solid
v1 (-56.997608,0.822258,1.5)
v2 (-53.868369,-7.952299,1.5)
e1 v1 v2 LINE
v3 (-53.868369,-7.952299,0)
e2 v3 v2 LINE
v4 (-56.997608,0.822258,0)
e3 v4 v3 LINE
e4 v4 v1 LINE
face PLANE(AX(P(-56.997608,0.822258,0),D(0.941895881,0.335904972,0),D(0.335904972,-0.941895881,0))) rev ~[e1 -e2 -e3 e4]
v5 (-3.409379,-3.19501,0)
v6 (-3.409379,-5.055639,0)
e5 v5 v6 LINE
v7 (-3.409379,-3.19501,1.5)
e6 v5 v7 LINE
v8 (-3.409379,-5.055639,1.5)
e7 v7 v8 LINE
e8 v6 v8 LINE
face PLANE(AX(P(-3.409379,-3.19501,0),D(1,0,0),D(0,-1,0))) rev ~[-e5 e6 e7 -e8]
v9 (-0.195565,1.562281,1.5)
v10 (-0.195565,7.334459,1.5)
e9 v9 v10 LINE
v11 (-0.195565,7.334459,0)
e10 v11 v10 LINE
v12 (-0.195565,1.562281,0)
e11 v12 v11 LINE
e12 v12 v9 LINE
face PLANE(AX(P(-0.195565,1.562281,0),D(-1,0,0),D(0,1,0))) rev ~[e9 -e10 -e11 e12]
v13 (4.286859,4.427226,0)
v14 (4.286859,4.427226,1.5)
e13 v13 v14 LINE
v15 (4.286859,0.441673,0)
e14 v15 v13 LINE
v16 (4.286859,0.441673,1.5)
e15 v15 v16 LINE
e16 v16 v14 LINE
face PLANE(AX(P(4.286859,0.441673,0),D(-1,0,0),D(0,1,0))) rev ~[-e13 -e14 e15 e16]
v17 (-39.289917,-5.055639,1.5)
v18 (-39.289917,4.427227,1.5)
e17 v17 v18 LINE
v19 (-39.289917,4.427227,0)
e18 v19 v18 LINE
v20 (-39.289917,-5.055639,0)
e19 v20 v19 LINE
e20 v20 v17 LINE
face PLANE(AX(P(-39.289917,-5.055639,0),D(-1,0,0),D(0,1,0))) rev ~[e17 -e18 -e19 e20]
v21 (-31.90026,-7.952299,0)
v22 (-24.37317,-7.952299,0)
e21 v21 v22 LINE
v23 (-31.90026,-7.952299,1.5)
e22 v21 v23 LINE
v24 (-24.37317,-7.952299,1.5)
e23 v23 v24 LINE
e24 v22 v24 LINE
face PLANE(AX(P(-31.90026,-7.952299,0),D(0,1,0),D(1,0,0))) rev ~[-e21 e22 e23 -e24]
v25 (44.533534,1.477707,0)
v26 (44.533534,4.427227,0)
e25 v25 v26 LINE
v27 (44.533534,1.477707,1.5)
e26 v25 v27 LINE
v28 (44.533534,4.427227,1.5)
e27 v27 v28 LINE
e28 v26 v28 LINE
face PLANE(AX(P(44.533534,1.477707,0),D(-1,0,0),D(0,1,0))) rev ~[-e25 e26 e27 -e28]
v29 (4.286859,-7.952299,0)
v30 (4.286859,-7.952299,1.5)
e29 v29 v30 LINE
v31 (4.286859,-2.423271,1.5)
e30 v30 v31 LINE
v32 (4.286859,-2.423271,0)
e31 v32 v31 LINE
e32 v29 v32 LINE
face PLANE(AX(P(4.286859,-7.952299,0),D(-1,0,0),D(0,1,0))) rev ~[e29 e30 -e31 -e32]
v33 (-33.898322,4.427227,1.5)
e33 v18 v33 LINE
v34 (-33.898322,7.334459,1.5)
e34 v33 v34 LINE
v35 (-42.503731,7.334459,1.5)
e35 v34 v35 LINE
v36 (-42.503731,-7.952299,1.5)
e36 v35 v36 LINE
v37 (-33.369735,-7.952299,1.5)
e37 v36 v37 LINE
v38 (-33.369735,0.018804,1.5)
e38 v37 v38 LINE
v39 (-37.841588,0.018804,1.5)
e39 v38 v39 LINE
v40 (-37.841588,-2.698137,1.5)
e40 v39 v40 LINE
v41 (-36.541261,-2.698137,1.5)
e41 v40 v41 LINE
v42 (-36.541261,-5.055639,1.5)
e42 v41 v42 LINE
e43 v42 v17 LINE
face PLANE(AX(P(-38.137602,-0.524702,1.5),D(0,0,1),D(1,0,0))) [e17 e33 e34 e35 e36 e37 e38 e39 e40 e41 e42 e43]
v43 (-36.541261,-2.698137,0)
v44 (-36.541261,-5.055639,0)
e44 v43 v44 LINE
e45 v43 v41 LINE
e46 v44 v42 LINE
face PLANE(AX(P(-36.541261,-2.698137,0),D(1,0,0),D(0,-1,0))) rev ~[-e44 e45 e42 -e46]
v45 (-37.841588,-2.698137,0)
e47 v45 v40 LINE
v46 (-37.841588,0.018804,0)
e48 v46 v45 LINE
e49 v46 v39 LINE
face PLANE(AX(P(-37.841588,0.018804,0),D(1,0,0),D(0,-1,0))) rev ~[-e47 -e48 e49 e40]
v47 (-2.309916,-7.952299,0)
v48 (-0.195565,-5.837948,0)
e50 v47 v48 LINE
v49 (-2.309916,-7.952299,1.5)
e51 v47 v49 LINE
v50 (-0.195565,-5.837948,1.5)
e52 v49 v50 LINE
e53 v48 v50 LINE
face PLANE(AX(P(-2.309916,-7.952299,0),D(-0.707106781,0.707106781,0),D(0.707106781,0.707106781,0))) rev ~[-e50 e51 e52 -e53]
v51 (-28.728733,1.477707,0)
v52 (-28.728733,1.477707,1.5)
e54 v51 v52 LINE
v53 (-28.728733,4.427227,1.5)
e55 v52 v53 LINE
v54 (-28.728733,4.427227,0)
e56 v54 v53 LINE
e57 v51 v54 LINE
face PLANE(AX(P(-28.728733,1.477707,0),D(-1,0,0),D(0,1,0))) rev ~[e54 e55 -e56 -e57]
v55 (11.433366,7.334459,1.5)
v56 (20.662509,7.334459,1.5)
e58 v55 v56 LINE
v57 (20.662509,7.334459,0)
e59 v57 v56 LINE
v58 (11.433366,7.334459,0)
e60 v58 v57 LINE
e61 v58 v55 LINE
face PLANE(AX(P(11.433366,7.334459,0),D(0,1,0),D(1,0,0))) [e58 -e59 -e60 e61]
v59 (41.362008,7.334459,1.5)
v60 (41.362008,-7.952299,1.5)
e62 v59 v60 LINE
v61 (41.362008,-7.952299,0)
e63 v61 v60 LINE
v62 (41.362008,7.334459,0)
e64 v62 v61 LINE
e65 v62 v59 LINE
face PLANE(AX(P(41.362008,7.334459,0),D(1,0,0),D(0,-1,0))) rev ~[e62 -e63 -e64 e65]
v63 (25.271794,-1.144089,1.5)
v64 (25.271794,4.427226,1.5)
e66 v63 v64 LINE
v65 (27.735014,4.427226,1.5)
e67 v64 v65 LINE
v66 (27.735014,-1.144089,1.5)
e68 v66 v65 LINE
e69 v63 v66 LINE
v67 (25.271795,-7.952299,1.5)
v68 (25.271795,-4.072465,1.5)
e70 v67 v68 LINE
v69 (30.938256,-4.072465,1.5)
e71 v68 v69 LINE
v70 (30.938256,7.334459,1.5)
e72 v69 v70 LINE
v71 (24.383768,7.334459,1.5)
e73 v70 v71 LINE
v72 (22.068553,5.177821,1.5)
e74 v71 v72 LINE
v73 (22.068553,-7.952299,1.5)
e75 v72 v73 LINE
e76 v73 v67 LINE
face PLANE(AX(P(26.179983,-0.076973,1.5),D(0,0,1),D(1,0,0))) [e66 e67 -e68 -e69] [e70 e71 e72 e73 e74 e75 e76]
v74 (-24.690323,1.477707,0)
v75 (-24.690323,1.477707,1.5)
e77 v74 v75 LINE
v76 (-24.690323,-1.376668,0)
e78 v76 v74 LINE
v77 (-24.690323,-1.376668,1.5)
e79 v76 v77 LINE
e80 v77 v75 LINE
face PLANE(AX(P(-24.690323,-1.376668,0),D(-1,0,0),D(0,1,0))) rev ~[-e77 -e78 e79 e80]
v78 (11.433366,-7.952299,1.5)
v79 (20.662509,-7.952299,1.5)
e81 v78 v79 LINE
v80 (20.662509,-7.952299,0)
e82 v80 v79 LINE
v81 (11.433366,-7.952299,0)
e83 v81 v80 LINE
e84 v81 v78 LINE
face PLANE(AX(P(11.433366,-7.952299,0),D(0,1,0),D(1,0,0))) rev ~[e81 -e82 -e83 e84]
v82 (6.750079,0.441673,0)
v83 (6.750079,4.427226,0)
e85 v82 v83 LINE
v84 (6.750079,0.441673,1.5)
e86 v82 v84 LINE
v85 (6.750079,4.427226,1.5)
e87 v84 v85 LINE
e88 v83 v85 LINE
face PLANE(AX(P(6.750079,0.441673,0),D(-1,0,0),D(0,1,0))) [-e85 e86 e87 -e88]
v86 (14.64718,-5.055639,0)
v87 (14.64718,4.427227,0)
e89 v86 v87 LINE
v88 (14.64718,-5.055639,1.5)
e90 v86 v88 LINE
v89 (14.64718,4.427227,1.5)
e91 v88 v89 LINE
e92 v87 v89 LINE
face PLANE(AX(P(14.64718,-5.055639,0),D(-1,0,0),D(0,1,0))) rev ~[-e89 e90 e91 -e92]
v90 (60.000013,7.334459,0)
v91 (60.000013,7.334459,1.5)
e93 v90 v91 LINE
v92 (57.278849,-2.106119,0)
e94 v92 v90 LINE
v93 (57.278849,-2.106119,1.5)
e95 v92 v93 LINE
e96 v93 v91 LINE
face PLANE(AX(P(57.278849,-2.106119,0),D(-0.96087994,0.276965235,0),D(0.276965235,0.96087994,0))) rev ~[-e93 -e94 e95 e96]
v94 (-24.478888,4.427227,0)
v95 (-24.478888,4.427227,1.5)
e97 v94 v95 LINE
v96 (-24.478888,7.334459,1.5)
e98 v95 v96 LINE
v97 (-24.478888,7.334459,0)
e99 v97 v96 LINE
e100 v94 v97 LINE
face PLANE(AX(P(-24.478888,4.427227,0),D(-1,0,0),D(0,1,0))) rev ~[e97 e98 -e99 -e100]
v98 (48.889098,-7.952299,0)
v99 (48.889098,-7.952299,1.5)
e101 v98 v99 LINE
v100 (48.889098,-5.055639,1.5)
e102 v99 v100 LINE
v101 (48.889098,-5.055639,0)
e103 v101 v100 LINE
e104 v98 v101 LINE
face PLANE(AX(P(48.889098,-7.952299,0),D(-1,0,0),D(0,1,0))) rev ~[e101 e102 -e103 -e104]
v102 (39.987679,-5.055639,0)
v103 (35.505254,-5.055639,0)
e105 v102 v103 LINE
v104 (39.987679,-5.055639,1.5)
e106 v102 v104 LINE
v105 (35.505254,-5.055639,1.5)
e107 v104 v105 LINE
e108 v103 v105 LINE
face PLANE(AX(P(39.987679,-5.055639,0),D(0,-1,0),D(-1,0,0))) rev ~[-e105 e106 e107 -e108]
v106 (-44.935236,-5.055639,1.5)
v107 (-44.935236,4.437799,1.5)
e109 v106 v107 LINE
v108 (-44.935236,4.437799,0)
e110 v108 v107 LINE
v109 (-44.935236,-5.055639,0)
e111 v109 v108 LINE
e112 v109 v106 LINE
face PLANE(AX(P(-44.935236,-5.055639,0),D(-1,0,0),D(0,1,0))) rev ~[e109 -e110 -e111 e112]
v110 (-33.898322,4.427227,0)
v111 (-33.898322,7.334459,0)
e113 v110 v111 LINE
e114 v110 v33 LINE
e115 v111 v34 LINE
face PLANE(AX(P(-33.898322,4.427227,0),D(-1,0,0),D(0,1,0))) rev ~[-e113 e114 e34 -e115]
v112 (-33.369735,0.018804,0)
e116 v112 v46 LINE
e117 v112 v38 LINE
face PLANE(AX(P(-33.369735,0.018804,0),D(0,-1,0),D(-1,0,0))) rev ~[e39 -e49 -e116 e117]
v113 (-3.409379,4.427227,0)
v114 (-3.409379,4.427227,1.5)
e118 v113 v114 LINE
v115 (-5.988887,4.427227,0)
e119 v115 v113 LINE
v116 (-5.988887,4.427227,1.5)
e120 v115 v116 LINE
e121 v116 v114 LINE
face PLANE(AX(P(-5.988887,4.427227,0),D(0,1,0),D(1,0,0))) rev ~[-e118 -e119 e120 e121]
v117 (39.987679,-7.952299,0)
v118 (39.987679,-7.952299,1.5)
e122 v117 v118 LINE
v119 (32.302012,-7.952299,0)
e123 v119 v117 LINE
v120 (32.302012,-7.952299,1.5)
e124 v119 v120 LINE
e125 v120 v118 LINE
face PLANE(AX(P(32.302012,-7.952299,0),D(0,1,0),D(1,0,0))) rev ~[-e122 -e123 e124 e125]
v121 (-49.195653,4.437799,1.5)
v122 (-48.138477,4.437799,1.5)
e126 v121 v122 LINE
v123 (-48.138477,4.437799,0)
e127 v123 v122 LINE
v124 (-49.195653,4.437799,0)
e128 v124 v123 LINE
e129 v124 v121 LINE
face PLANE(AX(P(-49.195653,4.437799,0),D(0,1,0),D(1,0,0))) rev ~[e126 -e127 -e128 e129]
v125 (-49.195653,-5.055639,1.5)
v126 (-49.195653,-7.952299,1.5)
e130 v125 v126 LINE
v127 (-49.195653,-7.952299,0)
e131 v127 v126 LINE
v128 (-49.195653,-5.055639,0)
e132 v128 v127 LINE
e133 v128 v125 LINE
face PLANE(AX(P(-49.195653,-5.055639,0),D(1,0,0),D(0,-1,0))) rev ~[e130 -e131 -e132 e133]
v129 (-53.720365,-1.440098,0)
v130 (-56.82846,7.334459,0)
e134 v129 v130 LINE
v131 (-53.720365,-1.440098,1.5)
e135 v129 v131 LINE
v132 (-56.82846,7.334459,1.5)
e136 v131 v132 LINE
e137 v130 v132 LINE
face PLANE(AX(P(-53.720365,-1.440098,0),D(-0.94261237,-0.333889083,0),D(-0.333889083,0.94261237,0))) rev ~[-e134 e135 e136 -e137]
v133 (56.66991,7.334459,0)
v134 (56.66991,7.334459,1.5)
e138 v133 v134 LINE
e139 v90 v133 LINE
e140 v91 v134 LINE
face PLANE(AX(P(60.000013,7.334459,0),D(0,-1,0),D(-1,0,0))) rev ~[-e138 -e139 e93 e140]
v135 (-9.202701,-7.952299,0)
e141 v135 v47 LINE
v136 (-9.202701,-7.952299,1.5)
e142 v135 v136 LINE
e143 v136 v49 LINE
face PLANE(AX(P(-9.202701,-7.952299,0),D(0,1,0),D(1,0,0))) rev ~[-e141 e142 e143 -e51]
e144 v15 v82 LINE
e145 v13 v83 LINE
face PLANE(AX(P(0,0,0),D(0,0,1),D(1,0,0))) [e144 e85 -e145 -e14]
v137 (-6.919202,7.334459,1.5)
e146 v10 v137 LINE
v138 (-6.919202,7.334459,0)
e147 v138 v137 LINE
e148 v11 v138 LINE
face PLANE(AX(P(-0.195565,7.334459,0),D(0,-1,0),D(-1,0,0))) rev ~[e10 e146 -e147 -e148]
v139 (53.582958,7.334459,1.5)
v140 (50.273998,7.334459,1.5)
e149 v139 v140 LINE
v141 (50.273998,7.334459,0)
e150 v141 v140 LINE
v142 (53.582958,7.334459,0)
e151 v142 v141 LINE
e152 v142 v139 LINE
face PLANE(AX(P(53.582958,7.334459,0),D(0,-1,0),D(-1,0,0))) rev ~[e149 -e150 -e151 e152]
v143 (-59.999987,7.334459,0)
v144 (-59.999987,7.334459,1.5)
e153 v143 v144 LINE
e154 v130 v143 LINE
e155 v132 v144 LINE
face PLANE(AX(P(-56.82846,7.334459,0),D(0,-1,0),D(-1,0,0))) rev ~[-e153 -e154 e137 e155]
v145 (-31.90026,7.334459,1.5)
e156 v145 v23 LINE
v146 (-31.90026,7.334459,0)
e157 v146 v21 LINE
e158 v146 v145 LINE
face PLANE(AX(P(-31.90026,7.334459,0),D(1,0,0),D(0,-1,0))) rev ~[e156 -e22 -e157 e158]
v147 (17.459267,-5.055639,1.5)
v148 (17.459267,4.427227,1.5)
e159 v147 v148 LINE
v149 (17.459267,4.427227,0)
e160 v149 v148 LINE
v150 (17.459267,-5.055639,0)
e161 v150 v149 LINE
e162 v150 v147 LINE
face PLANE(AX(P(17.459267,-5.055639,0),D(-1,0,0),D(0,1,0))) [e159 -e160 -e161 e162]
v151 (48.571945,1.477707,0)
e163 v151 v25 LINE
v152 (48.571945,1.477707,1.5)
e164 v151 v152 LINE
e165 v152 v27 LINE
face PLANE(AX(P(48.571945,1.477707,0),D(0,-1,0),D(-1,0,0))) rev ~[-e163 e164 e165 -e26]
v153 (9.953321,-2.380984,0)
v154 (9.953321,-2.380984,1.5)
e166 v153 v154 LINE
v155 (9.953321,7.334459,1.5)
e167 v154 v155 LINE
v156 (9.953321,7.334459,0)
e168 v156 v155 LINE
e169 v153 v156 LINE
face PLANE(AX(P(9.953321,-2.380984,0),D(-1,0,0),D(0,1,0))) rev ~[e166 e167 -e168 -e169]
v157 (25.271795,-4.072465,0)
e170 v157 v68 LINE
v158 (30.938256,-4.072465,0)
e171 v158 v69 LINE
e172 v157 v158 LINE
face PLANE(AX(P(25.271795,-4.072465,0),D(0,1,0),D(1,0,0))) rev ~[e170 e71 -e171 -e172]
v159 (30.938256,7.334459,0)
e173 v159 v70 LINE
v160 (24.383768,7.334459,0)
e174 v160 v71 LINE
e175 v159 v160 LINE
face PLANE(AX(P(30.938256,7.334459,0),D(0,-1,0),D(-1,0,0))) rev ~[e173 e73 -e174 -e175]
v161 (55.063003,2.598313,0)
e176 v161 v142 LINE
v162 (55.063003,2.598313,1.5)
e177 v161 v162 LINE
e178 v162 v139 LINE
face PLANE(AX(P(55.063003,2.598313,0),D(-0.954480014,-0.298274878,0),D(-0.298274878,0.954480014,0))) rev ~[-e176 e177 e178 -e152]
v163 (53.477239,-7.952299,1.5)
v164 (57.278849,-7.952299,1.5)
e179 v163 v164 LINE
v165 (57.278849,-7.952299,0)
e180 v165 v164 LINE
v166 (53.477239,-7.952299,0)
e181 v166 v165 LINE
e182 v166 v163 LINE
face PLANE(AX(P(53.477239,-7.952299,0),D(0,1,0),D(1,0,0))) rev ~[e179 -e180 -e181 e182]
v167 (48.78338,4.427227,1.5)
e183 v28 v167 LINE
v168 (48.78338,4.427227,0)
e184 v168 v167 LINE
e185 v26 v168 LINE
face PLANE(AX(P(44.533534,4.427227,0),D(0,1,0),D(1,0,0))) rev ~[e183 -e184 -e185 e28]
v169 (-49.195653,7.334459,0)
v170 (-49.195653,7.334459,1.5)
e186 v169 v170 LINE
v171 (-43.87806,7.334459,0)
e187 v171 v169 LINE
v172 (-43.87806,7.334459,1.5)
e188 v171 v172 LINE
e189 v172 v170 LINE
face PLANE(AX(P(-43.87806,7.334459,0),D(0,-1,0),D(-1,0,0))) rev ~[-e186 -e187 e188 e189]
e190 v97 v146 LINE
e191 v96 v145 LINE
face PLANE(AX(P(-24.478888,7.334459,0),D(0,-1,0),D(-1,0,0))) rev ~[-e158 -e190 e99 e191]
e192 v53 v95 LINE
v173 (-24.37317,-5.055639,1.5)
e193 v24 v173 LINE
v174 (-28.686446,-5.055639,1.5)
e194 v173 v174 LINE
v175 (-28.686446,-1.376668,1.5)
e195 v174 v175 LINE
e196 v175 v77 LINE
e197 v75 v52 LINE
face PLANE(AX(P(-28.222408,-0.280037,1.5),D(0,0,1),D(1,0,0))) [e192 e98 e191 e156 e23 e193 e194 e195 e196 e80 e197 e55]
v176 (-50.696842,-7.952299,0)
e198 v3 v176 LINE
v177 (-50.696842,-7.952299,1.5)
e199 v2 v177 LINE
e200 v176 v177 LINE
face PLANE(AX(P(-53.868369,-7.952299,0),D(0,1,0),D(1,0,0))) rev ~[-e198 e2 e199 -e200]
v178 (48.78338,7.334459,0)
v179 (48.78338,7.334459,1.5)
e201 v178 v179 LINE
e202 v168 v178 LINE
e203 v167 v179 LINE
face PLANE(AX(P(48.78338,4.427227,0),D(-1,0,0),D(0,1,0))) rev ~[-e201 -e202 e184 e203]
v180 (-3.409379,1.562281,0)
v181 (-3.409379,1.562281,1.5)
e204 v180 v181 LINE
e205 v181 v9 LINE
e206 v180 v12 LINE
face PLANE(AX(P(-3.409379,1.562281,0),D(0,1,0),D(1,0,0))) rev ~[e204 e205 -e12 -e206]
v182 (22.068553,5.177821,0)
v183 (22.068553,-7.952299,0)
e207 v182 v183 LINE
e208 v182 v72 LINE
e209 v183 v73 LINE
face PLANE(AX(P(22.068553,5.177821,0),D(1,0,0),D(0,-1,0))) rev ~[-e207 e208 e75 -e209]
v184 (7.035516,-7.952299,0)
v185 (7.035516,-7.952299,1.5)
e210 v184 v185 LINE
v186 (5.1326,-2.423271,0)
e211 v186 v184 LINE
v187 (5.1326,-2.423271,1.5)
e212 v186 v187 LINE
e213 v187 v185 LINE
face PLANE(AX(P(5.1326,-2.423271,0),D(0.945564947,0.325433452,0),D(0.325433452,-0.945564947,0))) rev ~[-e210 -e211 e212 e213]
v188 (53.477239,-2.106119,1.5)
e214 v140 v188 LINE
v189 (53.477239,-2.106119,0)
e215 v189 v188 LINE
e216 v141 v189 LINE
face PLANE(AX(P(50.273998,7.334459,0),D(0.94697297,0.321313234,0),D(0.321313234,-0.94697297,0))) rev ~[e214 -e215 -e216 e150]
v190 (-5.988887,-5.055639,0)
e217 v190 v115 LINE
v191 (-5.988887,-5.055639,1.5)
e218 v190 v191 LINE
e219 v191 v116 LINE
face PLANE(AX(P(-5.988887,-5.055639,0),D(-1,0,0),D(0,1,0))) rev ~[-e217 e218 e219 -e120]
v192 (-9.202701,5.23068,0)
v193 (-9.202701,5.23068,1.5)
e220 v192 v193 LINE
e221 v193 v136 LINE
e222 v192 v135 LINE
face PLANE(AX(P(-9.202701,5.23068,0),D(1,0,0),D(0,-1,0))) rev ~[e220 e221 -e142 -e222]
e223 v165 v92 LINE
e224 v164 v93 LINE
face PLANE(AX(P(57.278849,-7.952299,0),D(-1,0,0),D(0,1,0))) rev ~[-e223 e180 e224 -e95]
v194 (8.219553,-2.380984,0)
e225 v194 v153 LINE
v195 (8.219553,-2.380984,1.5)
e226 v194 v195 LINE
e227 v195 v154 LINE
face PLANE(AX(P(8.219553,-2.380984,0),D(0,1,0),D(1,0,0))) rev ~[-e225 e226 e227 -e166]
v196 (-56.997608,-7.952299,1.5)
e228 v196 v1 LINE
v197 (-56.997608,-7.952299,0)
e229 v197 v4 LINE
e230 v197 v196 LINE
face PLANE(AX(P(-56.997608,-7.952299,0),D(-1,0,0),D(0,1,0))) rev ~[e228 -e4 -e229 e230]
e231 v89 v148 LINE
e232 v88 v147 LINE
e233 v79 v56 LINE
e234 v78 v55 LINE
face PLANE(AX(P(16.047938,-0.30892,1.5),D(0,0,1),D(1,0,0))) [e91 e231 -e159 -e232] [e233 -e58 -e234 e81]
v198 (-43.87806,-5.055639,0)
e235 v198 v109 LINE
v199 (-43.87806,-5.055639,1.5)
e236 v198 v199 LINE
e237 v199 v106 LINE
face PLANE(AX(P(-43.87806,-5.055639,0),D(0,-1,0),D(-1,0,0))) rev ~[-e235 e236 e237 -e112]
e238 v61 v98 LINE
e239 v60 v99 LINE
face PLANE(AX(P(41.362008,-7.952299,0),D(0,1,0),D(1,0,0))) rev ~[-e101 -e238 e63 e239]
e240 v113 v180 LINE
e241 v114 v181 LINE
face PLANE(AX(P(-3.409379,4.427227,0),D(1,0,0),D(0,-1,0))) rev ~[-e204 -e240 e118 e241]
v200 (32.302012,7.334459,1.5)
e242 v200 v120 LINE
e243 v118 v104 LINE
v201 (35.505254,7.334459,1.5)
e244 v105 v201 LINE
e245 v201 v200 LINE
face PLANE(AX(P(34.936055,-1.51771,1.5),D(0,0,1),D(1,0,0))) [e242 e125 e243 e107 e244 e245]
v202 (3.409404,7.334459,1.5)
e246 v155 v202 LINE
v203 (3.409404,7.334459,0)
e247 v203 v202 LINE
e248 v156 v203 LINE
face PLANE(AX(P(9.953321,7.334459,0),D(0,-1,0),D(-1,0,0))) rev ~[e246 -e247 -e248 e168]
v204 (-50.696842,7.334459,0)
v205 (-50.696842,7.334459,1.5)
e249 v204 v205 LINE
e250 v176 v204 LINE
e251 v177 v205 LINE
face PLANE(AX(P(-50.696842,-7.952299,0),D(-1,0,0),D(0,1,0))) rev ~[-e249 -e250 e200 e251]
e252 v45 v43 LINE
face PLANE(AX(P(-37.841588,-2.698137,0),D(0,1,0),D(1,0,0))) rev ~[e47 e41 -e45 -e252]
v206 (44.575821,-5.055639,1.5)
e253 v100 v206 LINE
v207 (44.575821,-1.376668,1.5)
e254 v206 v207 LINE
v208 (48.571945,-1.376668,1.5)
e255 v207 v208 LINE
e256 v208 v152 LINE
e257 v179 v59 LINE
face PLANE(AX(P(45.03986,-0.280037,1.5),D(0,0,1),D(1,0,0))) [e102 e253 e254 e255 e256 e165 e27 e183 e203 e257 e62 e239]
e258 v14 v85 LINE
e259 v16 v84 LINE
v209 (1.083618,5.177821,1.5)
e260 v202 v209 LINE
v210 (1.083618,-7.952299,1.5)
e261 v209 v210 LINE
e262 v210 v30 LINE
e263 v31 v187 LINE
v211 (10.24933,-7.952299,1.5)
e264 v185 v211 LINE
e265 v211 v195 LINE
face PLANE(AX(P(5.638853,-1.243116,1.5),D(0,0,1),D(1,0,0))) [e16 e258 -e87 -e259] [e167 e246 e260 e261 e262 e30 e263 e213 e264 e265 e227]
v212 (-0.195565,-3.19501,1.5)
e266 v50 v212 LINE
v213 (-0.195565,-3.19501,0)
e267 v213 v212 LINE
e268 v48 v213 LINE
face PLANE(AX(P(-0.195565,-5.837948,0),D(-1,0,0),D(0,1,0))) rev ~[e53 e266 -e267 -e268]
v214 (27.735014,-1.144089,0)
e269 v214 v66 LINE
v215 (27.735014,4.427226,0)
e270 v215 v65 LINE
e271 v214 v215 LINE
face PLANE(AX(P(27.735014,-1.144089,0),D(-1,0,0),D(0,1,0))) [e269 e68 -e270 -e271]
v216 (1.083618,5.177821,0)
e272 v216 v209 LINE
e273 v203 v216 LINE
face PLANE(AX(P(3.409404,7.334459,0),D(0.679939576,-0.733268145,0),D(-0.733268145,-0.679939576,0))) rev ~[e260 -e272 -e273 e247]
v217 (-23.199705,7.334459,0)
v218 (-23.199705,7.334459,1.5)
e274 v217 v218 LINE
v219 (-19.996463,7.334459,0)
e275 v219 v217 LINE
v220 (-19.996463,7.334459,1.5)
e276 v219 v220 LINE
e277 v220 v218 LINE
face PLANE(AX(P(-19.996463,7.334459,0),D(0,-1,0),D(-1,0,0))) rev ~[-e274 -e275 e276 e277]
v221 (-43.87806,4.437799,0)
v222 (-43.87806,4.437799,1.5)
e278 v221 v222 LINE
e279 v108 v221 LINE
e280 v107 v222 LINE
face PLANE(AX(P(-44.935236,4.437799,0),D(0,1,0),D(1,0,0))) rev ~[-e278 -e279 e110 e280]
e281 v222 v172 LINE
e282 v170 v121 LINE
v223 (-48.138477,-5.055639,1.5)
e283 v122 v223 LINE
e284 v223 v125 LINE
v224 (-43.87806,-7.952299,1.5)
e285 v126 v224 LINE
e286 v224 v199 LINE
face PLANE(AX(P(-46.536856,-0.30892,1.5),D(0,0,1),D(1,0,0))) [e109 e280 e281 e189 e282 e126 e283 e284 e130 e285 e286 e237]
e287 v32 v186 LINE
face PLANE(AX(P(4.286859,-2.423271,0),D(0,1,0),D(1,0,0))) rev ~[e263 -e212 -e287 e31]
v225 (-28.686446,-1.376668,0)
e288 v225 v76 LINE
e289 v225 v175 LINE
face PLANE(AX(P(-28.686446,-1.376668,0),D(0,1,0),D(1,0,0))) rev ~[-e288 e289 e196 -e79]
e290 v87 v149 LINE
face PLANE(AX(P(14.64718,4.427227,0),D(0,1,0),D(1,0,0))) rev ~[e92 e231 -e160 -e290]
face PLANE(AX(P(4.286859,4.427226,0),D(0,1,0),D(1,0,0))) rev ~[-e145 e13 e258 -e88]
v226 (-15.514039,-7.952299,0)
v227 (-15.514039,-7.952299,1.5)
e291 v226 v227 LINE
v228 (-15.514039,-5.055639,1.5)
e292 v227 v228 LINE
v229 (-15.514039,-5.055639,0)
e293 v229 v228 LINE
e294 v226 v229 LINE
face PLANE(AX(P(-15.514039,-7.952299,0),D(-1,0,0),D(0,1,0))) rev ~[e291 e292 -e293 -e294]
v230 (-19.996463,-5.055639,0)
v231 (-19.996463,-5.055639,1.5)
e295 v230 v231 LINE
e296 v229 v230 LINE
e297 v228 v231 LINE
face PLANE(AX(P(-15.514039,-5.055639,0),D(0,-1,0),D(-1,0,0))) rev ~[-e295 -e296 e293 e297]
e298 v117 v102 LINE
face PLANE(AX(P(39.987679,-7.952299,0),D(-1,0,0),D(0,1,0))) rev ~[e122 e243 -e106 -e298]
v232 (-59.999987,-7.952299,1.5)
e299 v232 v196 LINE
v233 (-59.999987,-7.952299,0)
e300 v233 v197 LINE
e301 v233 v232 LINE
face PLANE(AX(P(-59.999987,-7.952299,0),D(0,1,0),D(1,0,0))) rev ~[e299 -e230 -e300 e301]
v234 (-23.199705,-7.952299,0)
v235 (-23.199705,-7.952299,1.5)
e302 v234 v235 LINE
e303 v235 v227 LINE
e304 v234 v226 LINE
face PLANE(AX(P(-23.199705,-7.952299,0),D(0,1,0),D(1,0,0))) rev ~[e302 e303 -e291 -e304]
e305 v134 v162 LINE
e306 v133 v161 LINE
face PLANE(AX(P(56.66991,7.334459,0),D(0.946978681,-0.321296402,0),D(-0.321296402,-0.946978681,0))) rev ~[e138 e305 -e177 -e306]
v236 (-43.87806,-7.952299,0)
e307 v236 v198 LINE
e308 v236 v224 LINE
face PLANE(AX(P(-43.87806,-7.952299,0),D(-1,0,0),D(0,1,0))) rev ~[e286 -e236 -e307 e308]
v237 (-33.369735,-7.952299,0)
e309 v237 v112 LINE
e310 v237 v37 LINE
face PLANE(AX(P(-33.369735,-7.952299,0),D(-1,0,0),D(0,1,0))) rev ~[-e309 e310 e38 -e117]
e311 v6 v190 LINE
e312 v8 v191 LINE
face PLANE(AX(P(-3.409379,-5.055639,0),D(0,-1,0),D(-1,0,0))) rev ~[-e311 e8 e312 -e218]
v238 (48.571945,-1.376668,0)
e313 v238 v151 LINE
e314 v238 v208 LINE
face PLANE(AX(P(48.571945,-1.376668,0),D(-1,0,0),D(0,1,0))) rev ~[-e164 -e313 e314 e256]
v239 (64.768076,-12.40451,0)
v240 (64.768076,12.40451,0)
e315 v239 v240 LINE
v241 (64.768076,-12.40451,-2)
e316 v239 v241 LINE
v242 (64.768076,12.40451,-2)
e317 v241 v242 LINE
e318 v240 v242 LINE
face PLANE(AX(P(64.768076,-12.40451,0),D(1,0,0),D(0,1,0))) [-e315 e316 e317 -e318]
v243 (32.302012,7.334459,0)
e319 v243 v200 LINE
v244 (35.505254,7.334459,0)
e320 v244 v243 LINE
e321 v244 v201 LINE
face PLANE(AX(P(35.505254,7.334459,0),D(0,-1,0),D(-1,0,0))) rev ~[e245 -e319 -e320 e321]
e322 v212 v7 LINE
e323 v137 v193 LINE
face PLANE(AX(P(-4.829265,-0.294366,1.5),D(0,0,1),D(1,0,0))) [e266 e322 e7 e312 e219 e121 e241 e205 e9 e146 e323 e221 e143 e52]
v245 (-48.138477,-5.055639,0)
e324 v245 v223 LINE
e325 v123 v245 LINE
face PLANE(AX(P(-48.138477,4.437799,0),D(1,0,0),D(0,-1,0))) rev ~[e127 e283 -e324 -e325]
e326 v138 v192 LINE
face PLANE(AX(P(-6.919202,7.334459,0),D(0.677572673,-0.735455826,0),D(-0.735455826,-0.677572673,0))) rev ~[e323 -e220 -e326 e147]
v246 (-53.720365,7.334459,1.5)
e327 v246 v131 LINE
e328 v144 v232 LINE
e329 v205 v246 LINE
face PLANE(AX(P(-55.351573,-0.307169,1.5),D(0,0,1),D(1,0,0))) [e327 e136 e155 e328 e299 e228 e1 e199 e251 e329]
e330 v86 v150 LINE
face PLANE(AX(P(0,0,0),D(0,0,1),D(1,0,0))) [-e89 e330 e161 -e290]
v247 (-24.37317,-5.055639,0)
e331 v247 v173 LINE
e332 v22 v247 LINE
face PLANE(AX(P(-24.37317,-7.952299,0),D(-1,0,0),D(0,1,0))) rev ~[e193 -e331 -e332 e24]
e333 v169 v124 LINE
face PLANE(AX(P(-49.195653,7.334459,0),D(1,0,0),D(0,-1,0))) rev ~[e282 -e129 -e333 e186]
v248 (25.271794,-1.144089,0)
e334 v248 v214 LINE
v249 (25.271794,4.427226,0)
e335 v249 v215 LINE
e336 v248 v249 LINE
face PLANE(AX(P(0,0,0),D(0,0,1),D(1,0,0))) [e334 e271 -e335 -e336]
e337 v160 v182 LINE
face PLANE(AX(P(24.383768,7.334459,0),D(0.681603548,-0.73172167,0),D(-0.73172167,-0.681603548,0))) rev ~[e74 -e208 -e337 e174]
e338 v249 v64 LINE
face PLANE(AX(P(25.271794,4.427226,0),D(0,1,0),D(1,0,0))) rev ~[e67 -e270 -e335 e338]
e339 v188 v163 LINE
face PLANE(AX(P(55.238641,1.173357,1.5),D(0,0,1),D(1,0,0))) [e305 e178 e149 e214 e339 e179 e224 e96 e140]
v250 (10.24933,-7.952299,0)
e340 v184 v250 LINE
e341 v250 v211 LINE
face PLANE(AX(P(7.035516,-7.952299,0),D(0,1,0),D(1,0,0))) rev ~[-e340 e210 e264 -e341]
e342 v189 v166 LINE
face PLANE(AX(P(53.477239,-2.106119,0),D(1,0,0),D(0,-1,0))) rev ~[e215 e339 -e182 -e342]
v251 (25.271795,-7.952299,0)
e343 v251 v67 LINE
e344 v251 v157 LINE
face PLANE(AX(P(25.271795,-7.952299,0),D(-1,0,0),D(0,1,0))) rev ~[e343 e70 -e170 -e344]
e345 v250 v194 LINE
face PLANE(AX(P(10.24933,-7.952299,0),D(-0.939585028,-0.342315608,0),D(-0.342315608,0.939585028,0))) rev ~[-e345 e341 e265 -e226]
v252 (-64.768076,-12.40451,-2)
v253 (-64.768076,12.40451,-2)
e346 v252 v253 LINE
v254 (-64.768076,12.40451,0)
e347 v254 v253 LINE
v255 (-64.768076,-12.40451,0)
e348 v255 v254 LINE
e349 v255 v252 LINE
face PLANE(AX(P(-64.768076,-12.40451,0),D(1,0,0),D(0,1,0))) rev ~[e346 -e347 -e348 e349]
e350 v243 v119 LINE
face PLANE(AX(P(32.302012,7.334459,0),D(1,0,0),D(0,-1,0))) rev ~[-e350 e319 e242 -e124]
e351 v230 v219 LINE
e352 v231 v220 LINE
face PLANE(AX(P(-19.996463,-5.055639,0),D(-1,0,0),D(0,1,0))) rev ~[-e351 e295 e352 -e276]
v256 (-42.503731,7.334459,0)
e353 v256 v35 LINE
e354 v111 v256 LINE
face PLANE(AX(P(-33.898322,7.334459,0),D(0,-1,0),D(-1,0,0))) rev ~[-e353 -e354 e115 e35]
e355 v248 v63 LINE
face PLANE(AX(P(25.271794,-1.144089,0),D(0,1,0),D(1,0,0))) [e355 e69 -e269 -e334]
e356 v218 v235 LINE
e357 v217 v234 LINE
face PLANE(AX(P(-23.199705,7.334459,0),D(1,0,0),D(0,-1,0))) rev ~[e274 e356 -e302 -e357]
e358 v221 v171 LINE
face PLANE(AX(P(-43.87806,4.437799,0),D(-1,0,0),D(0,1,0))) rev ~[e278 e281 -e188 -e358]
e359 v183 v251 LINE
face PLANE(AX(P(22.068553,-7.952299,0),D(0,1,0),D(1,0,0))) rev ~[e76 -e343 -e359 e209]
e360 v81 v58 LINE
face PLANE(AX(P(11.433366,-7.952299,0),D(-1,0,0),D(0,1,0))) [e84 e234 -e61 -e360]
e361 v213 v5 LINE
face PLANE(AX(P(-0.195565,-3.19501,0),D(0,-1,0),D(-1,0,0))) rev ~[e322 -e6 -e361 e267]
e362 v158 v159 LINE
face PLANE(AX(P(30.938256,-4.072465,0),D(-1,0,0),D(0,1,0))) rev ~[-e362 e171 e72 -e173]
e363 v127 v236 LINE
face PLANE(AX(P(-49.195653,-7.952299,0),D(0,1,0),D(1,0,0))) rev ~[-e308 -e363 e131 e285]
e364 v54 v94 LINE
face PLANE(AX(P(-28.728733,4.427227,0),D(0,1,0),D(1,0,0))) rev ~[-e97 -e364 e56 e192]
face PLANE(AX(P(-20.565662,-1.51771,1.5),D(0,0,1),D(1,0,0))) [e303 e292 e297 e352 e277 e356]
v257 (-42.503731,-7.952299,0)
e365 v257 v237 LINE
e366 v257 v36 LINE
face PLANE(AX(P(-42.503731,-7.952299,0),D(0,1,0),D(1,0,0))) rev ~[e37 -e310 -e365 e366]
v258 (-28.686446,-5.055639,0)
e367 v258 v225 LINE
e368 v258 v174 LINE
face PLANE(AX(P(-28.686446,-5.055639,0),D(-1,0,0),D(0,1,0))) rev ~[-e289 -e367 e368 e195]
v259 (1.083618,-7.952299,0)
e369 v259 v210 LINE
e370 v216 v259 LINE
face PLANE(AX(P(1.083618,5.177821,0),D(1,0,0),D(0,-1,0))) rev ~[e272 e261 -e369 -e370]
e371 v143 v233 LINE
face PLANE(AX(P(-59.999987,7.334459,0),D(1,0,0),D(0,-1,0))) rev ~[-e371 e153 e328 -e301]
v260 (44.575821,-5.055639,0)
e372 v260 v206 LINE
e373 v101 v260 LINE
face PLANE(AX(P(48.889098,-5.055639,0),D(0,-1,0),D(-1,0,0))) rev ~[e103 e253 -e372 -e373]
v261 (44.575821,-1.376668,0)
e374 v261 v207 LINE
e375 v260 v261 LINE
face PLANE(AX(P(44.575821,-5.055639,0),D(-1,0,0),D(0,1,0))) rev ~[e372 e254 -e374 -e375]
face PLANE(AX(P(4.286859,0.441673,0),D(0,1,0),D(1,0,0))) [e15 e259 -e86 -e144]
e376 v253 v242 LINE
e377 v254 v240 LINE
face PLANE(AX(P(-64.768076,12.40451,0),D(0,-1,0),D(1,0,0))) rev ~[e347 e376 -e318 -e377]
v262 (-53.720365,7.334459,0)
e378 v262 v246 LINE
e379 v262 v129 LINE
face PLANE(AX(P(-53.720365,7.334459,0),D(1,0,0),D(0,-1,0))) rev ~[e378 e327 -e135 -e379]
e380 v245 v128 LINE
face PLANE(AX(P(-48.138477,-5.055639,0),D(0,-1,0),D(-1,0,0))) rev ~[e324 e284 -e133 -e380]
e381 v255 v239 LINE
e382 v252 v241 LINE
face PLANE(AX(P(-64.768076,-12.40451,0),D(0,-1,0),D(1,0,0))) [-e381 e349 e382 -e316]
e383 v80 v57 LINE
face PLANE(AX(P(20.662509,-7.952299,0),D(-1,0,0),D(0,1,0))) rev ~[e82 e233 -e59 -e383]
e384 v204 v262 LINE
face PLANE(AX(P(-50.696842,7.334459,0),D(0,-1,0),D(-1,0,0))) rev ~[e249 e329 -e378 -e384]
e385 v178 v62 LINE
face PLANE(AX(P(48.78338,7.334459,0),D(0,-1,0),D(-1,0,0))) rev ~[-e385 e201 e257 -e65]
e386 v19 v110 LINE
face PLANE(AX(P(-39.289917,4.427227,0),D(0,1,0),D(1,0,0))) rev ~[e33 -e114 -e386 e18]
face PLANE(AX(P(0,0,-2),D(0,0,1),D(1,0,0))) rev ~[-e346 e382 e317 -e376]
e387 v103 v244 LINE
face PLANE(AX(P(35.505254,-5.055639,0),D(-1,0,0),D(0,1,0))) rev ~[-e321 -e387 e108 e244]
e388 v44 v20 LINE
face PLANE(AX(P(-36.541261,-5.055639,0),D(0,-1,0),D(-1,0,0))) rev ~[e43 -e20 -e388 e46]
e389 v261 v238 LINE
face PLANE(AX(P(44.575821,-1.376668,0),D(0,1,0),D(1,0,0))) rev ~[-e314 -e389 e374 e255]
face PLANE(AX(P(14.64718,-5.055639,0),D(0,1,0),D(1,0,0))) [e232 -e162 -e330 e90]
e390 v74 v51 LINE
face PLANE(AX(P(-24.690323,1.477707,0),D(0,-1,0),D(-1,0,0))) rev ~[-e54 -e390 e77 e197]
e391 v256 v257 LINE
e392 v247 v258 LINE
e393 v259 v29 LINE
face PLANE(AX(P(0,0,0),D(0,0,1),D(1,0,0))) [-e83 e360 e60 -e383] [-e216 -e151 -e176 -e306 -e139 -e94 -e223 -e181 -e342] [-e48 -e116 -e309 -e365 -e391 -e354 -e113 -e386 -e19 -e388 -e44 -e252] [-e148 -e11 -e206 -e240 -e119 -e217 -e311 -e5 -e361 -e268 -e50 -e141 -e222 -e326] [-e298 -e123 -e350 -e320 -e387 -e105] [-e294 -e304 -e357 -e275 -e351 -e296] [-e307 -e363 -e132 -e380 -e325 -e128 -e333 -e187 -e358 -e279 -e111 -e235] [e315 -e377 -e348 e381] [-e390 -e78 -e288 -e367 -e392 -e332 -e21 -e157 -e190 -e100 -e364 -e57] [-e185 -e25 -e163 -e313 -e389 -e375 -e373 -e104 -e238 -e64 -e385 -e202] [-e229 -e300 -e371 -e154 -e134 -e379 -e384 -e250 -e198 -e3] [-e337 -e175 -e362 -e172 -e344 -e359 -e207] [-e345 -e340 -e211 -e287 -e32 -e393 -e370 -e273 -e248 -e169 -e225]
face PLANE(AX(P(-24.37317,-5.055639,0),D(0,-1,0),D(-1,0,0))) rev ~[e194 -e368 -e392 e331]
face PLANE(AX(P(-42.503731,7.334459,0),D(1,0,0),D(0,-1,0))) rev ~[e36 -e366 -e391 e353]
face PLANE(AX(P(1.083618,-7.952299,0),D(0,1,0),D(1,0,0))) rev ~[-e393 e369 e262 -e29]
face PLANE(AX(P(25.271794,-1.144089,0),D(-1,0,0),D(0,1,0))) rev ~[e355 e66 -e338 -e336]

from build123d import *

# Parameters (mm, degrees)
F0_W     = 129.536152
F0_H     = 24.80902
F2_DEPTH = 2
F1_W     = 2.46322
F1_H     = 3.985553
F1_W_2   = 9.229143
F1_H_2   = 15.286758
F1_W_3   = 2.812087
F1_H_3   = 9.482866
F1_W_4   = 2.463219
F1_H_4   = 5.571315
F3_DEPTH = 1.5


with BuildPart() as f2:
    # F0 (on Top) → F2 (new body)
    with BuildSketch(Plane.XY):
        Rectangle(F0_W, F0_H)
    extrude(amount=-F2_DEPTH)

    # F1 (on Top) → F3 (join)
    with BuildSketch(Plane.XY):
        Polygon((-53.720365, 7.334459), (-53.720365, -1.440098), (-56.82846, 7.334459), (-59.999987, 7.334459), (-59.999987, -7.952299), (-56.997608, -7.952299), (-56.997608, 0.822258), (-53.868369, -7.952299), (-50.696842, -7.952299), (-50.696842, 7.334459), align=None)
        Polygon((-43.87806, -7.952299), (-43.87806, -5.055639), (-44.935236, -5.055639), (-44.935236, 4.437799), (-43.87806, 4.437799), (-43.87806, 7.334459), (-49.195653, 7.334459), (-49.195653, 4.437799), (-48.138477, 4.437799), (-48.138477, -5.055639), (-49.195653, -5.055639), (-49.195653, -7.952299), align=None)
        Polygon((-36.541261, -2.698137), (-36.541261, -5.055639), (-39.289917, -5.055639), (-39.289917, 4.427227), (-33.898322, 4.427227), (-33.898322, 7.334459), (-42.503731, 7.334459), (-42.503731, -7.952299), (-33.369735, -7.952299), (-33.369735, 0.018804), (-37.841588, 0.018804), (-37.841588, -2.698137), align=None)
        Polygon((-24.478888, 7.334459), (-31.90026, 7.334459), (-31.90026, -7.952299), (-24.37317, -7.952299), (-24.37317, -5.055639), (-28.686446, -5.055639), (-28.686446, -1.376668), (-24.690323, -1.376668), (-24.690323, 1.477707), (-28.728733, 1.477707), (-28.728733, 4.427227), (-24.478888, 4.427227), align=None)
        Polygon((-23.199705, 7.334459), (-23.199705, -7.952299), (-15.514039, -7.952299), (-15.514039, -5.055639), (-19.996463, -5.055639), (-19.996463, 7.334459), align=None)
        Polygon((-3.409379, -3.19501), (-3.409379, -5.055639), (-5.988887, -5.055639), (-5.988887, 4.427227), (-3.409379, 4.427227), (-3.409379, 1.562281), (-0.195565, 1.562281), (-0.195565, 7.334459), (-6.919202, 7.334459), (-9.202701, 5.23068), (-9.202701, -7.952299), (-2.309916, -7.952299), (-0.195565, -5.837948), (-0.195565, -3.19501), align=None)
        Polygon((5.1326, -2.423271), (7.035516, -7.952299), (10.24933, -7.952299), (8.219553, -2.380984), (9.953321, -2.380984), (9.953321, 7.334459), (3.409404, 7.334459), (1.083618, 5.177821), (1.083618, -7.952299), (4.286859, -7.952299), (4.286859, -2.423271), align=None)
        with Locations((5.518469, 2.43445)):
            Rectangle(F1_W, F1_H, mode=Mode.SUBTRACT)
        with Locations((16.047938, -0.30892)):
            Rectangle(F1_W_2, F1_H_2)
        with Locations((16.053224, -0.314206)):
            Rectangle(F1_W_3, F1_H_3, mode=Mode.SUBTRACT)
        Polygon((22.068553, -7.952299), (25.271795, -7.952299), (25.271795, -4.072465), (30.938256, -4.072465), (30.938256, 7.334459), (24.383768, 7.334459), (22.068553, 5.177821), align=None)
        with Locations((26.503404, 1.641569)):
            Rectangle(F1_W_4, F1_H_4, mode=Mode.SUBTRACT)
        Polygon((32.302012, 7.334459), (32.302012, -7.952299), (39.987679, -7.952299), (39.987679, -5.055639), (35.505254, -5.055639), (35.505254, 7.334459), align=None)
        Polygon((48.78338, 7.334459), (41.362008, 7.334459), (41.362008, -7.952299), (48.889098, -7.952299), (48.889098, -5.055639), (44.575821, -5.055639), (44.575821, -1.376668), (48.571945, -1.376668), (48.571945, 1.477707), (44.533534, 1.477707), (44.533534, 4.427227), (48.78338, 4.427227), align=None)
        Polygon((60.000013, 7.334459), (56.66991, 7.334459), (55.063003, 2.598313), (53.582958, 7.334459), (50.273998, 7.334459), (53.477239, -2.106119), (53.477239, -7.952299), (57.278849, -7.952299), (57.278849, -2.106119), align=None)
    extrude(amount=F3_DEPTH)


solid = f2.part
